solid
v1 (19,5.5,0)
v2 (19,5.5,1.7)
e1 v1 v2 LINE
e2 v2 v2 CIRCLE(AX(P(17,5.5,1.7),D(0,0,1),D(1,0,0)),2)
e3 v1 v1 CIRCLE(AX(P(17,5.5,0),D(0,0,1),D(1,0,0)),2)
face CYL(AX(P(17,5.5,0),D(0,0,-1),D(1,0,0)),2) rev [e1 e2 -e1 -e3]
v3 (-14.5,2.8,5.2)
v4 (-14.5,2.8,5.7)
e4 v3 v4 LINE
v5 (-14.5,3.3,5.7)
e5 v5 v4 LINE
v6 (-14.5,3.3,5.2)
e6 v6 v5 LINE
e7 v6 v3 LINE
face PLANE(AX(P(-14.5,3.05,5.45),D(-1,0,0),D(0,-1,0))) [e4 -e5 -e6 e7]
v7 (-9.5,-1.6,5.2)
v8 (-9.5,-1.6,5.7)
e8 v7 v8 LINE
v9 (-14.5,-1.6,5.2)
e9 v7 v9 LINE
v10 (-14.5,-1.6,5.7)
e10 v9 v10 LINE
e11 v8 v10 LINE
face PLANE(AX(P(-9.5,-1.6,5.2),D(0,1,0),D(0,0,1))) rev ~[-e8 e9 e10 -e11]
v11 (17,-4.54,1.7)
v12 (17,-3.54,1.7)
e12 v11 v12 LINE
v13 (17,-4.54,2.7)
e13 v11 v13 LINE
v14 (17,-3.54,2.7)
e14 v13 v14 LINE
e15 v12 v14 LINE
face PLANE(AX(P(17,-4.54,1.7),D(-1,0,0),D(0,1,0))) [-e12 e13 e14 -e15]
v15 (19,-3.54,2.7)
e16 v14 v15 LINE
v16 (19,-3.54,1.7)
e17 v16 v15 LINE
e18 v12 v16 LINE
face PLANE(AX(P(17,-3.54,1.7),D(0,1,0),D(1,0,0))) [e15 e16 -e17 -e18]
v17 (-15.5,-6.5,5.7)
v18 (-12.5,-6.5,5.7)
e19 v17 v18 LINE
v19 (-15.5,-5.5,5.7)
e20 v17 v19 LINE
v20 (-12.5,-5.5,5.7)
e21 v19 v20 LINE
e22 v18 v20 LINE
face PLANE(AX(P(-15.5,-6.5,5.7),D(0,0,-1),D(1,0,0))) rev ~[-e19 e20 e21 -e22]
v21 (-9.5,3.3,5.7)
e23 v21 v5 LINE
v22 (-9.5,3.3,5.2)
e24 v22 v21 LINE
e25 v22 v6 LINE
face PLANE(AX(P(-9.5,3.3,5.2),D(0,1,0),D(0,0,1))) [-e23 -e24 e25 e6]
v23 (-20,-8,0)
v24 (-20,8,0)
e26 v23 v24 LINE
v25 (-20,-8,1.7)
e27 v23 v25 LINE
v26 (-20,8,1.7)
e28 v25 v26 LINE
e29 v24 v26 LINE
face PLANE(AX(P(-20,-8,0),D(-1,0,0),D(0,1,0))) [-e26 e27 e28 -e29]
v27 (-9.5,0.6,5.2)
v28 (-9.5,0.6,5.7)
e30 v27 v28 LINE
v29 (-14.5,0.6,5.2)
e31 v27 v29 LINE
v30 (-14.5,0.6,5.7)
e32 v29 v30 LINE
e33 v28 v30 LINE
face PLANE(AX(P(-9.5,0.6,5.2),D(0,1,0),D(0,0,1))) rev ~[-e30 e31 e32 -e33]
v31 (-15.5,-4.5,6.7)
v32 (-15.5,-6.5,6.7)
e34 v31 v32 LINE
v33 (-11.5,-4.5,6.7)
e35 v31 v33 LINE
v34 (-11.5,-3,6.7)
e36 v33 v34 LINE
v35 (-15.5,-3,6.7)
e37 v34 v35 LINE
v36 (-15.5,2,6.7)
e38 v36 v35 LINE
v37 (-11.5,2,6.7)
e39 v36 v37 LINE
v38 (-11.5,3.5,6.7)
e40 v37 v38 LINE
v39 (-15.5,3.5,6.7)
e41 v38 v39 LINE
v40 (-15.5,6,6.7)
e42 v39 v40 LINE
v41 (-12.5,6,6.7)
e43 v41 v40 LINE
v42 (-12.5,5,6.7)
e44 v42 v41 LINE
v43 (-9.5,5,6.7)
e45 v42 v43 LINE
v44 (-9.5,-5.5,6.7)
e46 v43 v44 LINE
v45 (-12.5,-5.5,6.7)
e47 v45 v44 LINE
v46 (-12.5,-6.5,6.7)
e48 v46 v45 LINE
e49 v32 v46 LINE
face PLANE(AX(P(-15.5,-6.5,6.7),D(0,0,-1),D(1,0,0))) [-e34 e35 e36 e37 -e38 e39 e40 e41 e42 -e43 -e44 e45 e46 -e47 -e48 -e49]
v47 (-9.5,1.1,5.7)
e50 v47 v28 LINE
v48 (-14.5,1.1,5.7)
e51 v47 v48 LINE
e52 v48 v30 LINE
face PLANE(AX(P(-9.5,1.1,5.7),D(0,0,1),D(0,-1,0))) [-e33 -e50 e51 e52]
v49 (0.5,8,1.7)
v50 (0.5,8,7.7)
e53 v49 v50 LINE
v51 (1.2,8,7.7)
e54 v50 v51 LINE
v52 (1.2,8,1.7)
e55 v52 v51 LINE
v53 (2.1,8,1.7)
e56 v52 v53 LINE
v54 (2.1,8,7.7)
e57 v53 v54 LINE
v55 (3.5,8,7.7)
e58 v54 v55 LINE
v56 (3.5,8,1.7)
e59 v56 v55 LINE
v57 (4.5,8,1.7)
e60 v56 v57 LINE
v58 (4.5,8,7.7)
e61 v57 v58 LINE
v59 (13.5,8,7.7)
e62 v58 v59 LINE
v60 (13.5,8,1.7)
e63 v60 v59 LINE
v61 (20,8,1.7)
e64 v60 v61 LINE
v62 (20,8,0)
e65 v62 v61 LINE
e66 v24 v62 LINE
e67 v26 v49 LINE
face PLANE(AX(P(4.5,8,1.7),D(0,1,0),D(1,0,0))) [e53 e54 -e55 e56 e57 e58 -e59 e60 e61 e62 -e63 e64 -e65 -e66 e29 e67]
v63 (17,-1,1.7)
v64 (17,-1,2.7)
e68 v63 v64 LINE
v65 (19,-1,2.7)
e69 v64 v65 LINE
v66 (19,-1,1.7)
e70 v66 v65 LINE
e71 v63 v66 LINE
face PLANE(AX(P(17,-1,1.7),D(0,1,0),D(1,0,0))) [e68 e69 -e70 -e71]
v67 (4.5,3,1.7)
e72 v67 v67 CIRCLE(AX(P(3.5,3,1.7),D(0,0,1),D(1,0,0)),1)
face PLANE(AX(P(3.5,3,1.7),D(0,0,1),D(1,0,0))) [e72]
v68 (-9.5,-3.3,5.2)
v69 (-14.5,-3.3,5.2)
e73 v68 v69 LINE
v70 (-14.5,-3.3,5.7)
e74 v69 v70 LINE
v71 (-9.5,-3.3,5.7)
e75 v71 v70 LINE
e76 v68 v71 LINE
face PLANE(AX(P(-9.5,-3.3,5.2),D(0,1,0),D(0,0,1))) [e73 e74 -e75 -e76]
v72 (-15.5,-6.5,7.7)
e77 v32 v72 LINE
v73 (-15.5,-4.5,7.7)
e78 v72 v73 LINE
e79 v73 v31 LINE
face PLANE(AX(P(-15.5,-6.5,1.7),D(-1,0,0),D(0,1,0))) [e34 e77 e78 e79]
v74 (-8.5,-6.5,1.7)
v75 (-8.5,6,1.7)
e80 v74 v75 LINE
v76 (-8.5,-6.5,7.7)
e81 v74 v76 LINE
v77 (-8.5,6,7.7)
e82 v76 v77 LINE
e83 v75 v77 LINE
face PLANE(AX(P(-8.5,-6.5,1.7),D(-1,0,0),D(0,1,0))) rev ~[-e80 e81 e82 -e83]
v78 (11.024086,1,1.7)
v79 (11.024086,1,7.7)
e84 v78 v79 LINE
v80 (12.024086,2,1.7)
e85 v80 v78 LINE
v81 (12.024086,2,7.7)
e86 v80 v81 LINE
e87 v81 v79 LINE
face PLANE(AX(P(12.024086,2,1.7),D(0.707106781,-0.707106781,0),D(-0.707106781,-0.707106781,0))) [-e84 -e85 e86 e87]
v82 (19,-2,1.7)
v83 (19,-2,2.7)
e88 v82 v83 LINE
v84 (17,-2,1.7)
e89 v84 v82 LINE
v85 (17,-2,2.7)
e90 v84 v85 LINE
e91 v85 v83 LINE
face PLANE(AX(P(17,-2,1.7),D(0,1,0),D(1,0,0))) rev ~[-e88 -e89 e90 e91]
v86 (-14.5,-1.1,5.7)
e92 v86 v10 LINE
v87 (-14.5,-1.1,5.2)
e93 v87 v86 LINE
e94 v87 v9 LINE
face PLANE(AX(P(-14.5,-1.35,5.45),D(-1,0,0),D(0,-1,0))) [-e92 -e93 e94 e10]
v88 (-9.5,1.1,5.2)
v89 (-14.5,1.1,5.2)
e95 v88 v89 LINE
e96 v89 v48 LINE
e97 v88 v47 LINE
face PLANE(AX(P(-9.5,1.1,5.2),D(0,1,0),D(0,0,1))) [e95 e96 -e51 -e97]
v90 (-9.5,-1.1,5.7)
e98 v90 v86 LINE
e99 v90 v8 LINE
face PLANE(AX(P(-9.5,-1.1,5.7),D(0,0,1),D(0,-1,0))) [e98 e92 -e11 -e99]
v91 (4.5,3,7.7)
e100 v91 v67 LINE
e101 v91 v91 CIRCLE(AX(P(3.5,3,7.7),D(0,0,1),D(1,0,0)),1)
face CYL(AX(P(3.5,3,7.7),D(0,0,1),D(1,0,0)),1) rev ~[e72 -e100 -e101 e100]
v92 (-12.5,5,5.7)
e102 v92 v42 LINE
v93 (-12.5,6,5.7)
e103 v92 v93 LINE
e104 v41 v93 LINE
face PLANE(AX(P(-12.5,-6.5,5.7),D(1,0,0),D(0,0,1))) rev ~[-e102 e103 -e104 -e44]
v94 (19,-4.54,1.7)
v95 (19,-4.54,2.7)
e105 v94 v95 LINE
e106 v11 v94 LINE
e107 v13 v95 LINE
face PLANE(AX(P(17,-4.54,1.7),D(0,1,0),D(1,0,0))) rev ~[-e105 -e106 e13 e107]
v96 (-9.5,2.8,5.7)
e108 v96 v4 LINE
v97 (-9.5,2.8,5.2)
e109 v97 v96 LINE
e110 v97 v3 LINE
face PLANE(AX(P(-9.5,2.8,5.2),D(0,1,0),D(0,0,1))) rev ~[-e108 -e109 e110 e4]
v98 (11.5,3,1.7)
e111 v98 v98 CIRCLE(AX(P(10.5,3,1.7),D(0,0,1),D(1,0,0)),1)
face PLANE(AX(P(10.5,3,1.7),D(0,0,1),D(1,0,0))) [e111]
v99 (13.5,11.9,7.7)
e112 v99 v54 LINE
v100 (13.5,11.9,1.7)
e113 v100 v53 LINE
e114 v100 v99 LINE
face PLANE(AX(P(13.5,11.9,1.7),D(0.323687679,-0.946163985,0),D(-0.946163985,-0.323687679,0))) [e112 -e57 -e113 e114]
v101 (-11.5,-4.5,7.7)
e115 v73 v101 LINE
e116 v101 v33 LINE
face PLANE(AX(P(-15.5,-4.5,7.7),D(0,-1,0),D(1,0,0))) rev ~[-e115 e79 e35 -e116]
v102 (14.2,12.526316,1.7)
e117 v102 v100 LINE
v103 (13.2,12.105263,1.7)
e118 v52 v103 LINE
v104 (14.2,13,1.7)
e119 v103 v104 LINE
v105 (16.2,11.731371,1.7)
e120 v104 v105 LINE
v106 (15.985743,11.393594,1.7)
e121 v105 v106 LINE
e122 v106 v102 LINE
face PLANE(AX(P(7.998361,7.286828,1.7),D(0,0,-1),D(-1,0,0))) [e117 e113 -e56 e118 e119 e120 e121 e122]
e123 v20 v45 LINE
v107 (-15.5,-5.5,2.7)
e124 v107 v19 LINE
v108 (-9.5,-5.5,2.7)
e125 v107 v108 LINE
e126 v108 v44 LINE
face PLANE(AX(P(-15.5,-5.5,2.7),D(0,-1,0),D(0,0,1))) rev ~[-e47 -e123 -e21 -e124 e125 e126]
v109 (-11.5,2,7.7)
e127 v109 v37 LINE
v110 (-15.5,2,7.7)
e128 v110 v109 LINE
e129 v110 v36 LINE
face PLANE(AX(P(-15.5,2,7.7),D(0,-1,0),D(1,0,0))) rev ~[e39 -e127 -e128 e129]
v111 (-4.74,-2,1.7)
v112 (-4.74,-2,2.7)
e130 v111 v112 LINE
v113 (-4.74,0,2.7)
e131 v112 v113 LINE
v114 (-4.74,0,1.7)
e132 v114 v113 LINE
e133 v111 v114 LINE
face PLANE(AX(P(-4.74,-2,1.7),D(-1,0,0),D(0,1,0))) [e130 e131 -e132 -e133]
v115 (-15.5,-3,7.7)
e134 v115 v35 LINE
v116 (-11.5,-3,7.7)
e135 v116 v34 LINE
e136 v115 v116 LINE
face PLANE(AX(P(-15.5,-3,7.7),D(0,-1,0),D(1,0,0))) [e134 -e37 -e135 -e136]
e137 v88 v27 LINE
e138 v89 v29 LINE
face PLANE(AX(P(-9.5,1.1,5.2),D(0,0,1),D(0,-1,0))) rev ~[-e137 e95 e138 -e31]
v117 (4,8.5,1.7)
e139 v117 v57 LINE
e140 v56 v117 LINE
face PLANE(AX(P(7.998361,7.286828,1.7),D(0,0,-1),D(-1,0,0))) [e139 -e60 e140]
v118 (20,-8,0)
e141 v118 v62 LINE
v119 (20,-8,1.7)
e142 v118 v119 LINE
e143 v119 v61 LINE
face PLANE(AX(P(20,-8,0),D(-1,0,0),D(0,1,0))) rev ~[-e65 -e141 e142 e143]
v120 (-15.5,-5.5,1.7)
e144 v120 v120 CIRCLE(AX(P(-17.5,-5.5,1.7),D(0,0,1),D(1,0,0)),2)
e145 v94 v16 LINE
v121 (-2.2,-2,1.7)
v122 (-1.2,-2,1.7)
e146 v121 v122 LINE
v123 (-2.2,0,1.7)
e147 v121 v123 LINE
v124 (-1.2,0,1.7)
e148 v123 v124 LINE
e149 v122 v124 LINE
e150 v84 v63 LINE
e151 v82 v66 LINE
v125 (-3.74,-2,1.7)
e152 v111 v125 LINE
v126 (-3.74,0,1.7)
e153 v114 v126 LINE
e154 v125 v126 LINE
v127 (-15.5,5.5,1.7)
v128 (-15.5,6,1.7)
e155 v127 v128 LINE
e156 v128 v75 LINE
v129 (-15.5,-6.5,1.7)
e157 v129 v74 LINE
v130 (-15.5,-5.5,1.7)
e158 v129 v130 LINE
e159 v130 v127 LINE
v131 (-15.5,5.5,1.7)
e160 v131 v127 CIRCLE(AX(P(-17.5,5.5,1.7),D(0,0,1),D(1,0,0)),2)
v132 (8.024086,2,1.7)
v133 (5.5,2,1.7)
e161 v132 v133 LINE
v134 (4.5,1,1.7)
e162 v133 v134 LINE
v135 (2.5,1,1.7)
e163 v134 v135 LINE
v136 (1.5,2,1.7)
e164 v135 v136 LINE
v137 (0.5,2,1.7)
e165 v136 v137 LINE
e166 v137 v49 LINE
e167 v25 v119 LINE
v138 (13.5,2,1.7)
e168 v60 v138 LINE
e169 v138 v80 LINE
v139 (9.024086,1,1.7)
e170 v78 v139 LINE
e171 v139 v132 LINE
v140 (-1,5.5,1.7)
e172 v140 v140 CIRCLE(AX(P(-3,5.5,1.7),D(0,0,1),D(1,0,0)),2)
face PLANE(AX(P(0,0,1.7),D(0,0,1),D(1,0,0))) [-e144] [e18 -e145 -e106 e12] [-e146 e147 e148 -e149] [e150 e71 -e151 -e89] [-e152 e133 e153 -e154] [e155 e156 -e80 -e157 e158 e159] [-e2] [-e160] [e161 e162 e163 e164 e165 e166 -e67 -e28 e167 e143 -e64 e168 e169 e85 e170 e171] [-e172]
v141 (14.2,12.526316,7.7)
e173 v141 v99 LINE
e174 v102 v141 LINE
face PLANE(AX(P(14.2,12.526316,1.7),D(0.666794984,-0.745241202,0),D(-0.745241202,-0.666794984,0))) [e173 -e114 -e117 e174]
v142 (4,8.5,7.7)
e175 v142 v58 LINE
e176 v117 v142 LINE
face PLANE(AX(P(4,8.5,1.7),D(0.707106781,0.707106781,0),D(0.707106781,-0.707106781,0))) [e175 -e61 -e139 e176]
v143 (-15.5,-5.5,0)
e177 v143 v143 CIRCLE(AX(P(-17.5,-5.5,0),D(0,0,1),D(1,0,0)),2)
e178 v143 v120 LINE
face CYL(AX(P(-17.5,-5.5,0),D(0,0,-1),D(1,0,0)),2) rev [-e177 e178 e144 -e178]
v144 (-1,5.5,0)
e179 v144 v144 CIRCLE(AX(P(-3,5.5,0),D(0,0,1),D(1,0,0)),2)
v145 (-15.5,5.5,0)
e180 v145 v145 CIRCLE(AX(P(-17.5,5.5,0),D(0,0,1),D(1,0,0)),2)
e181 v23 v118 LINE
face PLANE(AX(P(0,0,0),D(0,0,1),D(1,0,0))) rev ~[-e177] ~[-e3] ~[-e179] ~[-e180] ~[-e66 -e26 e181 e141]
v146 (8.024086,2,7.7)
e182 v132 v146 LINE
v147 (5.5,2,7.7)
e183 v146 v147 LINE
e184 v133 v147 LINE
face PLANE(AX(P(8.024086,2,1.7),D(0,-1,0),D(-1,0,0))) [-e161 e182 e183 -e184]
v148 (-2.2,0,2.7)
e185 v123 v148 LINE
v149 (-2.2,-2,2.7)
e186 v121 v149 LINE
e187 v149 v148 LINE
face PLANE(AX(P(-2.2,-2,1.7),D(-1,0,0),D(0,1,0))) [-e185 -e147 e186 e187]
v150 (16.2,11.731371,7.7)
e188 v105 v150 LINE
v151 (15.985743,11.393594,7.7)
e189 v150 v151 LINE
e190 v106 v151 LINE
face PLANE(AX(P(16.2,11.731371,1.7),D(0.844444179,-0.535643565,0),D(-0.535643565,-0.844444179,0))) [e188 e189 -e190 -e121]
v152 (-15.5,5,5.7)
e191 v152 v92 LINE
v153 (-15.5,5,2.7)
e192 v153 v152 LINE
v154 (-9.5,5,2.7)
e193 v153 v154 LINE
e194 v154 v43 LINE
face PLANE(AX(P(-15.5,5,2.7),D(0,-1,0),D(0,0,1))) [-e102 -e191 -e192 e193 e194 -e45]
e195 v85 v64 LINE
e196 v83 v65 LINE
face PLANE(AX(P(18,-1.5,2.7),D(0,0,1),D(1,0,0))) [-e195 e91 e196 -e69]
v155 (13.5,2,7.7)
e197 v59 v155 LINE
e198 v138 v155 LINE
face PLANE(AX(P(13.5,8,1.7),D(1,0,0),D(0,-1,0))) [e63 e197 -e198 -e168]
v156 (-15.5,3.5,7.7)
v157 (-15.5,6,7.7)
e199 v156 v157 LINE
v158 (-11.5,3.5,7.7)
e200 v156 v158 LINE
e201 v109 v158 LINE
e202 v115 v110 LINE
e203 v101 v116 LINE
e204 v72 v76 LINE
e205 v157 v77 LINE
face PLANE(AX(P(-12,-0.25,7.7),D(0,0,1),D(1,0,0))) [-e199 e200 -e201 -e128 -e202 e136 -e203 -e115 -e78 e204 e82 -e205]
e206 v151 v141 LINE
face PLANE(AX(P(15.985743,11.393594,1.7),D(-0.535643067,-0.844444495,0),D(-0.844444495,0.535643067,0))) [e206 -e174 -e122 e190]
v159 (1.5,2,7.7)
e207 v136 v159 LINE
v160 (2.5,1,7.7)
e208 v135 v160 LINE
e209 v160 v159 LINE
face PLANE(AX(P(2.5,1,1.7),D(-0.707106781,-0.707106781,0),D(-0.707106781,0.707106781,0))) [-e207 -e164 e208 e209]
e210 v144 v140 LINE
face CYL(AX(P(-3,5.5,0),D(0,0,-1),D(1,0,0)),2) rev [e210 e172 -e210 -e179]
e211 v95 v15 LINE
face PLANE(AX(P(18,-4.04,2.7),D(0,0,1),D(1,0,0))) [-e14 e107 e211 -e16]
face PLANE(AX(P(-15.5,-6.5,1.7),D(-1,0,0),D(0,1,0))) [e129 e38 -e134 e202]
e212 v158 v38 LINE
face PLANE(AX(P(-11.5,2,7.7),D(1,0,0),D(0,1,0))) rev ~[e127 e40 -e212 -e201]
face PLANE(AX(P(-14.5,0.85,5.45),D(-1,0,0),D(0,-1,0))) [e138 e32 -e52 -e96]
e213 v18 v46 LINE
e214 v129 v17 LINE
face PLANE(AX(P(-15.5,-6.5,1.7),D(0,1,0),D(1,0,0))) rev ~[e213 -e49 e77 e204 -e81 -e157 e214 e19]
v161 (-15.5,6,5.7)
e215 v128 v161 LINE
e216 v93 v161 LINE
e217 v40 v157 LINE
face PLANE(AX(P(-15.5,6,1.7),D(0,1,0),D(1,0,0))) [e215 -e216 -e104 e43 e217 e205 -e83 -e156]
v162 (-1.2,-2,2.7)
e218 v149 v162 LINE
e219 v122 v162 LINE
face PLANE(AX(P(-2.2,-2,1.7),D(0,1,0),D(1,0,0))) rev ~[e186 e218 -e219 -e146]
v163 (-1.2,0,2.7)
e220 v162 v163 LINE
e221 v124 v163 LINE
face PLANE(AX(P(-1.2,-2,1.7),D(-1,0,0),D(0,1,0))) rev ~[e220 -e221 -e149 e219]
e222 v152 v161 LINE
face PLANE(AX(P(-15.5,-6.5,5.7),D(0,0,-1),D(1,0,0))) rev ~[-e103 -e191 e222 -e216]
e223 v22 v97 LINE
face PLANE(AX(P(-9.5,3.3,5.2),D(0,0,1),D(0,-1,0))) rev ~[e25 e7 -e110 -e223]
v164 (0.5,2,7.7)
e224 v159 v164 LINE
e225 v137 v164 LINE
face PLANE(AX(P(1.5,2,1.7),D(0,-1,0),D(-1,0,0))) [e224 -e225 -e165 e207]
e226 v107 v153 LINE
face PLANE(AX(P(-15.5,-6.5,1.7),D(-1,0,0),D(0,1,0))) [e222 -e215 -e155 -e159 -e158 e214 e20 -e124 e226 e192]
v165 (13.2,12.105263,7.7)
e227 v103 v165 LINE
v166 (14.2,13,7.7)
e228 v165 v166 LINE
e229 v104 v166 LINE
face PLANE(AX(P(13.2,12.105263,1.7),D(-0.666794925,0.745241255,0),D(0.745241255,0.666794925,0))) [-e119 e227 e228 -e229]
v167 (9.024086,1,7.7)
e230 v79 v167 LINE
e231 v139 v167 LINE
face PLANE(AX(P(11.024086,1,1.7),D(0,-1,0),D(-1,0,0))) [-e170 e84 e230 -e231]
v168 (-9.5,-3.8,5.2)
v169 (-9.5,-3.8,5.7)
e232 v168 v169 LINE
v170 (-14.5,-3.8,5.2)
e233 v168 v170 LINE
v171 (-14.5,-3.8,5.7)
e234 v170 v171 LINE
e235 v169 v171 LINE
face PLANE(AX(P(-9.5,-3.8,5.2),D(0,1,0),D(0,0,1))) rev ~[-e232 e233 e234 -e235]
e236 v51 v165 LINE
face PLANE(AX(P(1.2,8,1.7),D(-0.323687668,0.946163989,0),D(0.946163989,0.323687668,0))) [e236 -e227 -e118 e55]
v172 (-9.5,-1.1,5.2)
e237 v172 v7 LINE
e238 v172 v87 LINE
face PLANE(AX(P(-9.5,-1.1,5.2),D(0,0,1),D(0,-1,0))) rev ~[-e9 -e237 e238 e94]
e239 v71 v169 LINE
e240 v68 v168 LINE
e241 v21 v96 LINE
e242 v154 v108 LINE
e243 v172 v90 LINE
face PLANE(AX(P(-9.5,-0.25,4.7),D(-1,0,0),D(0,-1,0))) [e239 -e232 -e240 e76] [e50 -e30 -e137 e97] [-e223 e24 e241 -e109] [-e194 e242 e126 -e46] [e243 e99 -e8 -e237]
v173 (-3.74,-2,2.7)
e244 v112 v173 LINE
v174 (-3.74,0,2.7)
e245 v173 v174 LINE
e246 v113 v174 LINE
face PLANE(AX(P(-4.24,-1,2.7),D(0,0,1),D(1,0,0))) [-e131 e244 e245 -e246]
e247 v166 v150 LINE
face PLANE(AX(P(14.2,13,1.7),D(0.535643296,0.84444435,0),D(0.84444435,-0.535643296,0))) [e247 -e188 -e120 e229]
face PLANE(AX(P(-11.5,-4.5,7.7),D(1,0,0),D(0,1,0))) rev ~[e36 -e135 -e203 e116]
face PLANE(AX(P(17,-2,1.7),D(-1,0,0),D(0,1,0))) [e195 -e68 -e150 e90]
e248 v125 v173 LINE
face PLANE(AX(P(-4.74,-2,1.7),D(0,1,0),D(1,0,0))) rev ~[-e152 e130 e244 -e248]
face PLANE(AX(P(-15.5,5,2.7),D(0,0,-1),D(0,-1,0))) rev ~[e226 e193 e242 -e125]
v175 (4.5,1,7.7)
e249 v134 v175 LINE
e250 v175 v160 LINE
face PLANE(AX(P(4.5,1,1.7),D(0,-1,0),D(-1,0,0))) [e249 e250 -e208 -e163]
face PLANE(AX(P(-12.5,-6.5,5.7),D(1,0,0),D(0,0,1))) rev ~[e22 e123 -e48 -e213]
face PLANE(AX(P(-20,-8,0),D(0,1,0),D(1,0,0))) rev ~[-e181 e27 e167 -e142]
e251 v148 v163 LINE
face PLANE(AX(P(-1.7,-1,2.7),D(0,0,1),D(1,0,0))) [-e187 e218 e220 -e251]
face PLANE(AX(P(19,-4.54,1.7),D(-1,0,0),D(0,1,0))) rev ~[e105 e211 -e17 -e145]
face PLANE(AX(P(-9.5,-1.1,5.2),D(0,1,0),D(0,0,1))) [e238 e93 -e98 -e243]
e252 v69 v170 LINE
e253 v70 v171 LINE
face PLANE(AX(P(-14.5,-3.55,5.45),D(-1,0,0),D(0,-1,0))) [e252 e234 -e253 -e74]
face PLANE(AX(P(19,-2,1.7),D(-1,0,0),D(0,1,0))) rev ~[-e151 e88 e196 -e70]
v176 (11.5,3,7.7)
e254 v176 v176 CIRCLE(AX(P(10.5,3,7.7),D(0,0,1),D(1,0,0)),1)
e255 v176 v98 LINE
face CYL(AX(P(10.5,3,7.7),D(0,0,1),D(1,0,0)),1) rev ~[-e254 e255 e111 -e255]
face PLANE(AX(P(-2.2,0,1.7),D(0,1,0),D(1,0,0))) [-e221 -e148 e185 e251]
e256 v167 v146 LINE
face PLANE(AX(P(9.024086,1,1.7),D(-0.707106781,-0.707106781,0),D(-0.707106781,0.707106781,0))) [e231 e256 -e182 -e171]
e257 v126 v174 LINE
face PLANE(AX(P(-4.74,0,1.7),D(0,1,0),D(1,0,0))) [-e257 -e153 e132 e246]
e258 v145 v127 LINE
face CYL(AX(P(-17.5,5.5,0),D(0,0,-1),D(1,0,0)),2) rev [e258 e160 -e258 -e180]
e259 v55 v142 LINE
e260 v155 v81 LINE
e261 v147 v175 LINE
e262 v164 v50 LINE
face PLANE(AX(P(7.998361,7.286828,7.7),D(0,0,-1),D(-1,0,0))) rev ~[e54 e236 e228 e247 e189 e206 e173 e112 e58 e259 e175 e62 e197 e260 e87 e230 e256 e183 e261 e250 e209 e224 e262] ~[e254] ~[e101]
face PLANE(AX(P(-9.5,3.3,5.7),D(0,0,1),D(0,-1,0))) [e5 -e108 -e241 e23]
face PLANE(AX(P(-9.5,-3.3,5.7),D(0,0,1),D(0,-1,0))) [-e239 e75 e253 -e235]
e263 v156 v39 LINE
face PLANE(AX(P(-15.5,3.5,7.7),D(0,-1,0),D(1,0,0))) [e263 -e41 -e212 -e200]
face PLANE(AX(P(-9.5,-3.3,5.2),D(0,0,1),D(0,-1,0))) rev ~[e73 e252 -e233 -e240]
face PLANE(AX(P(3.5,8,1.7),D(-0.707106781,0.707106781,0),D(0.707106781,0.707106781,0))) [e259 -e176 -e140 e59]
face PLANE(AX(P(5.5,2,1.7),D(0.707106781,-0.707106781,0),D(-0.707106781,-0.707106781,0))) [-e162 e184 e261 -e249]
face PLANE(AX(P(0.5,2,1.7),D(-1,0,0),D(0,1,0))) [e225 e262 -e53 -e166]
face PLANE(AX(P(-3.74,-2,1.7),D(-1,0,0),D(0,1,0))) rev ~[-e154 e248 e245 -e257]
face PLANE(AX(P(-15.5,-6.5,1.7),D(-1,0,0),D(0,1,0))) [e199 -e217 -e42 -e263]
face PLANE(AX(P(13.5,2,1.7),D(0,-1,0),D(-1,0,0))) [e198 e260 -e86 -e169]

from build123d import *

# Parameters (mm, degrees)
SKETCH_W        = 40
SKETCH_H        = 16
SKETCH_R        = 2
PAD_DEPTH       = 1.7
SKETCH001_W     = 7
SKETCH001_H     = 12.5
PAD001_DEPTH    = 6
SKETCH002_W     = 1
SKETCH002_H     = 2
SKETCH002_W_2   = 2
SKETCH002_H_2   = 1
PAD002_DEPTH    = 1
SKETCH004_R     = 1
POCKET_DEPTH    = 6
SKETCH005_W     = 4
SKETCH005_H     = 1.5
POCKET001_DEPTH = 5
SKETCH006_W     = 10.5
SKETCH006_H     = 4
POCKET002_DEPTH = 6
SKETCH007_W     = 3
SKETCH007_H     = 1
POCKET003_DEPTH = 19.501
SKETCH008_W     = 0.5
SKETCH008_H     = 0.5
PAD003_DEPTH    = 5


with BuildPart() as part:
    # Sketch → Pad (new body)
    with BuildSketch(Plane.XY):
        Rectangle(SKETCH_W, SKETCH_H)
        with Locations((-17.5, 5.5)):
            Circle(SKETCH_R, mode=Mode.SUBTRACT)
        with Locations((-17.5, -5.5)):
            Circle(SKETCH_R, mode=Mode.SUBTRACT)
        with Locations((-3, 5.5)):
            Circle(SKETCH_R, mode=Mode.SUBTRACT)
        with Locations((17, 5.5)):
            Circle(SKETCH_R, mode=Mode.SUBTRACT)
    extrude(amount=PAD_DEPTH)

    # Sketch001 (on Face10 of Pad) → Pad001 (new body)
    with BuildSketch(Plane.XY.offset(1.7)):
        Polygon((13.5, 8), (13.5, 2), (12.024086, 2), (11.024086, 1), (9.024086, 1), (8.024086, 2), (5.5, 2), (4.5, 1), (2.5, 1), (1.5, 2), (0.5, 2), (0.5, 8), (1.2, 8), (13.2, 12.105263), (14.2, 13), (16.2, 11.731371), (15.985743, 11.393594), (14.2, 12.526316), (13.5, 11.9), (2.1, 8), (3.5, 8), (4, 8.5), (4.5, 8), align=None)
        with Locations((-12, -0.25)):
            Rectangle(SKETCH001_W, SKETCH001_H)
    extrude(amount=PAD001_DEPTH)

    # Sketch002 (on Face5 of Pad001) → Pad002 (new body)
    with BuildSketch(Plane.XY.offset(1.7)):
        with Locations((-4.24, -1)):
            Rectangle(SKETCH002_W, SKETCH002_H)
        with Locations((-1.7, -1)):
            Rectangle(SKETCH002_W, SKETCH002_H)
        with Locations((18, -1.5)):
            Rectangle(SKETCH002_W_2, SKETCH002_H_2)
        with Locations((18, -4.04)):
            Rectangle(SKETCH002_W_2, SKETCH002_H_2)
    extrude(amount=PAD002_DEPTH)

    # Sketch004 (on Face47 of Pad002) → Pocket (cut)
    with BuildSketch(Plane.XY.offset(7.7)):
        with Locations((3.5, 3)):
            Circle(SKETCH004_R)
        with Locations((10.5, 3)):
            Circle(SKETCH004_R)
    extrude(amount=-POCKET_DEPTH, mode=Mode.SUBTRACT)

    # Sketch005 (on Face61 of Pocket) → Pocket001 (cut)
    with BuildSketch(Plane.XY.offset(7.7)):
        with Locations((-13.5, 2.75)):
            Rectangle(SKETCH005_W, SKETCH005_H)
        with Locations((-13.5, -3.75)):
            Rectangle(SKETCH005_W, SKETCH005_H)
    extrude(amount=-POCKET001_DEPTH, mode=Mode.SUBTRACT)

    # Sketch006 (on Face43 of Pocket001) → Pocket002 (cut)
    with BuildSketch(Plane(origin=(-15.5, 0, 0), x_dir=(0, -1, 0), z_dir=(-1, 0, 0))):
        with Locations((0.25, 4.7)):
            Rectangle(SKETCH006_W, SKETCH006_H)
    extrude(amount=-POCKET002_DEPTH, mode=Mode.SUBTRACT)

    # Sketch007 (on Face44 of Pocket002) → Pocket003 (cut, through all)
    with BuildSketch(Plane.XZ.offset(6.5)):
        with Locations((-14, 6.2)):
            Rectangle(SKETCH007_W, SKETCH007_H)
    extrude(amount=-POCKET003_DEPTH, mode=Mode.SUBTRACT)

    # Sketch008 (on Face77 of Pocket003) → Pad003 (new body)
    with BuildSketch(Plane(origin=(-9.5, 0, 0), x_dir=(0, -1, 0), z_dir=(-1, 0, 0))):
        with Locations((-3.05, 5.45)):
            Rectangle(SKETCH008_W, SKETCH008_H)
        with Locations((-0.85, 5.45)):
            Rectangle(SKETCH008_W, SKETCH008_H)
        with Locations((1.35, 5.45)):
            Rectangle(SKETCH008_W, SKETCH008_H)
        with Locations((3.55, 5.45)):
            Rectangle(SKETCH008_W, SKETCH008_H)
    extrude(amount=PAD003_DEPTH)


solid = part.part
